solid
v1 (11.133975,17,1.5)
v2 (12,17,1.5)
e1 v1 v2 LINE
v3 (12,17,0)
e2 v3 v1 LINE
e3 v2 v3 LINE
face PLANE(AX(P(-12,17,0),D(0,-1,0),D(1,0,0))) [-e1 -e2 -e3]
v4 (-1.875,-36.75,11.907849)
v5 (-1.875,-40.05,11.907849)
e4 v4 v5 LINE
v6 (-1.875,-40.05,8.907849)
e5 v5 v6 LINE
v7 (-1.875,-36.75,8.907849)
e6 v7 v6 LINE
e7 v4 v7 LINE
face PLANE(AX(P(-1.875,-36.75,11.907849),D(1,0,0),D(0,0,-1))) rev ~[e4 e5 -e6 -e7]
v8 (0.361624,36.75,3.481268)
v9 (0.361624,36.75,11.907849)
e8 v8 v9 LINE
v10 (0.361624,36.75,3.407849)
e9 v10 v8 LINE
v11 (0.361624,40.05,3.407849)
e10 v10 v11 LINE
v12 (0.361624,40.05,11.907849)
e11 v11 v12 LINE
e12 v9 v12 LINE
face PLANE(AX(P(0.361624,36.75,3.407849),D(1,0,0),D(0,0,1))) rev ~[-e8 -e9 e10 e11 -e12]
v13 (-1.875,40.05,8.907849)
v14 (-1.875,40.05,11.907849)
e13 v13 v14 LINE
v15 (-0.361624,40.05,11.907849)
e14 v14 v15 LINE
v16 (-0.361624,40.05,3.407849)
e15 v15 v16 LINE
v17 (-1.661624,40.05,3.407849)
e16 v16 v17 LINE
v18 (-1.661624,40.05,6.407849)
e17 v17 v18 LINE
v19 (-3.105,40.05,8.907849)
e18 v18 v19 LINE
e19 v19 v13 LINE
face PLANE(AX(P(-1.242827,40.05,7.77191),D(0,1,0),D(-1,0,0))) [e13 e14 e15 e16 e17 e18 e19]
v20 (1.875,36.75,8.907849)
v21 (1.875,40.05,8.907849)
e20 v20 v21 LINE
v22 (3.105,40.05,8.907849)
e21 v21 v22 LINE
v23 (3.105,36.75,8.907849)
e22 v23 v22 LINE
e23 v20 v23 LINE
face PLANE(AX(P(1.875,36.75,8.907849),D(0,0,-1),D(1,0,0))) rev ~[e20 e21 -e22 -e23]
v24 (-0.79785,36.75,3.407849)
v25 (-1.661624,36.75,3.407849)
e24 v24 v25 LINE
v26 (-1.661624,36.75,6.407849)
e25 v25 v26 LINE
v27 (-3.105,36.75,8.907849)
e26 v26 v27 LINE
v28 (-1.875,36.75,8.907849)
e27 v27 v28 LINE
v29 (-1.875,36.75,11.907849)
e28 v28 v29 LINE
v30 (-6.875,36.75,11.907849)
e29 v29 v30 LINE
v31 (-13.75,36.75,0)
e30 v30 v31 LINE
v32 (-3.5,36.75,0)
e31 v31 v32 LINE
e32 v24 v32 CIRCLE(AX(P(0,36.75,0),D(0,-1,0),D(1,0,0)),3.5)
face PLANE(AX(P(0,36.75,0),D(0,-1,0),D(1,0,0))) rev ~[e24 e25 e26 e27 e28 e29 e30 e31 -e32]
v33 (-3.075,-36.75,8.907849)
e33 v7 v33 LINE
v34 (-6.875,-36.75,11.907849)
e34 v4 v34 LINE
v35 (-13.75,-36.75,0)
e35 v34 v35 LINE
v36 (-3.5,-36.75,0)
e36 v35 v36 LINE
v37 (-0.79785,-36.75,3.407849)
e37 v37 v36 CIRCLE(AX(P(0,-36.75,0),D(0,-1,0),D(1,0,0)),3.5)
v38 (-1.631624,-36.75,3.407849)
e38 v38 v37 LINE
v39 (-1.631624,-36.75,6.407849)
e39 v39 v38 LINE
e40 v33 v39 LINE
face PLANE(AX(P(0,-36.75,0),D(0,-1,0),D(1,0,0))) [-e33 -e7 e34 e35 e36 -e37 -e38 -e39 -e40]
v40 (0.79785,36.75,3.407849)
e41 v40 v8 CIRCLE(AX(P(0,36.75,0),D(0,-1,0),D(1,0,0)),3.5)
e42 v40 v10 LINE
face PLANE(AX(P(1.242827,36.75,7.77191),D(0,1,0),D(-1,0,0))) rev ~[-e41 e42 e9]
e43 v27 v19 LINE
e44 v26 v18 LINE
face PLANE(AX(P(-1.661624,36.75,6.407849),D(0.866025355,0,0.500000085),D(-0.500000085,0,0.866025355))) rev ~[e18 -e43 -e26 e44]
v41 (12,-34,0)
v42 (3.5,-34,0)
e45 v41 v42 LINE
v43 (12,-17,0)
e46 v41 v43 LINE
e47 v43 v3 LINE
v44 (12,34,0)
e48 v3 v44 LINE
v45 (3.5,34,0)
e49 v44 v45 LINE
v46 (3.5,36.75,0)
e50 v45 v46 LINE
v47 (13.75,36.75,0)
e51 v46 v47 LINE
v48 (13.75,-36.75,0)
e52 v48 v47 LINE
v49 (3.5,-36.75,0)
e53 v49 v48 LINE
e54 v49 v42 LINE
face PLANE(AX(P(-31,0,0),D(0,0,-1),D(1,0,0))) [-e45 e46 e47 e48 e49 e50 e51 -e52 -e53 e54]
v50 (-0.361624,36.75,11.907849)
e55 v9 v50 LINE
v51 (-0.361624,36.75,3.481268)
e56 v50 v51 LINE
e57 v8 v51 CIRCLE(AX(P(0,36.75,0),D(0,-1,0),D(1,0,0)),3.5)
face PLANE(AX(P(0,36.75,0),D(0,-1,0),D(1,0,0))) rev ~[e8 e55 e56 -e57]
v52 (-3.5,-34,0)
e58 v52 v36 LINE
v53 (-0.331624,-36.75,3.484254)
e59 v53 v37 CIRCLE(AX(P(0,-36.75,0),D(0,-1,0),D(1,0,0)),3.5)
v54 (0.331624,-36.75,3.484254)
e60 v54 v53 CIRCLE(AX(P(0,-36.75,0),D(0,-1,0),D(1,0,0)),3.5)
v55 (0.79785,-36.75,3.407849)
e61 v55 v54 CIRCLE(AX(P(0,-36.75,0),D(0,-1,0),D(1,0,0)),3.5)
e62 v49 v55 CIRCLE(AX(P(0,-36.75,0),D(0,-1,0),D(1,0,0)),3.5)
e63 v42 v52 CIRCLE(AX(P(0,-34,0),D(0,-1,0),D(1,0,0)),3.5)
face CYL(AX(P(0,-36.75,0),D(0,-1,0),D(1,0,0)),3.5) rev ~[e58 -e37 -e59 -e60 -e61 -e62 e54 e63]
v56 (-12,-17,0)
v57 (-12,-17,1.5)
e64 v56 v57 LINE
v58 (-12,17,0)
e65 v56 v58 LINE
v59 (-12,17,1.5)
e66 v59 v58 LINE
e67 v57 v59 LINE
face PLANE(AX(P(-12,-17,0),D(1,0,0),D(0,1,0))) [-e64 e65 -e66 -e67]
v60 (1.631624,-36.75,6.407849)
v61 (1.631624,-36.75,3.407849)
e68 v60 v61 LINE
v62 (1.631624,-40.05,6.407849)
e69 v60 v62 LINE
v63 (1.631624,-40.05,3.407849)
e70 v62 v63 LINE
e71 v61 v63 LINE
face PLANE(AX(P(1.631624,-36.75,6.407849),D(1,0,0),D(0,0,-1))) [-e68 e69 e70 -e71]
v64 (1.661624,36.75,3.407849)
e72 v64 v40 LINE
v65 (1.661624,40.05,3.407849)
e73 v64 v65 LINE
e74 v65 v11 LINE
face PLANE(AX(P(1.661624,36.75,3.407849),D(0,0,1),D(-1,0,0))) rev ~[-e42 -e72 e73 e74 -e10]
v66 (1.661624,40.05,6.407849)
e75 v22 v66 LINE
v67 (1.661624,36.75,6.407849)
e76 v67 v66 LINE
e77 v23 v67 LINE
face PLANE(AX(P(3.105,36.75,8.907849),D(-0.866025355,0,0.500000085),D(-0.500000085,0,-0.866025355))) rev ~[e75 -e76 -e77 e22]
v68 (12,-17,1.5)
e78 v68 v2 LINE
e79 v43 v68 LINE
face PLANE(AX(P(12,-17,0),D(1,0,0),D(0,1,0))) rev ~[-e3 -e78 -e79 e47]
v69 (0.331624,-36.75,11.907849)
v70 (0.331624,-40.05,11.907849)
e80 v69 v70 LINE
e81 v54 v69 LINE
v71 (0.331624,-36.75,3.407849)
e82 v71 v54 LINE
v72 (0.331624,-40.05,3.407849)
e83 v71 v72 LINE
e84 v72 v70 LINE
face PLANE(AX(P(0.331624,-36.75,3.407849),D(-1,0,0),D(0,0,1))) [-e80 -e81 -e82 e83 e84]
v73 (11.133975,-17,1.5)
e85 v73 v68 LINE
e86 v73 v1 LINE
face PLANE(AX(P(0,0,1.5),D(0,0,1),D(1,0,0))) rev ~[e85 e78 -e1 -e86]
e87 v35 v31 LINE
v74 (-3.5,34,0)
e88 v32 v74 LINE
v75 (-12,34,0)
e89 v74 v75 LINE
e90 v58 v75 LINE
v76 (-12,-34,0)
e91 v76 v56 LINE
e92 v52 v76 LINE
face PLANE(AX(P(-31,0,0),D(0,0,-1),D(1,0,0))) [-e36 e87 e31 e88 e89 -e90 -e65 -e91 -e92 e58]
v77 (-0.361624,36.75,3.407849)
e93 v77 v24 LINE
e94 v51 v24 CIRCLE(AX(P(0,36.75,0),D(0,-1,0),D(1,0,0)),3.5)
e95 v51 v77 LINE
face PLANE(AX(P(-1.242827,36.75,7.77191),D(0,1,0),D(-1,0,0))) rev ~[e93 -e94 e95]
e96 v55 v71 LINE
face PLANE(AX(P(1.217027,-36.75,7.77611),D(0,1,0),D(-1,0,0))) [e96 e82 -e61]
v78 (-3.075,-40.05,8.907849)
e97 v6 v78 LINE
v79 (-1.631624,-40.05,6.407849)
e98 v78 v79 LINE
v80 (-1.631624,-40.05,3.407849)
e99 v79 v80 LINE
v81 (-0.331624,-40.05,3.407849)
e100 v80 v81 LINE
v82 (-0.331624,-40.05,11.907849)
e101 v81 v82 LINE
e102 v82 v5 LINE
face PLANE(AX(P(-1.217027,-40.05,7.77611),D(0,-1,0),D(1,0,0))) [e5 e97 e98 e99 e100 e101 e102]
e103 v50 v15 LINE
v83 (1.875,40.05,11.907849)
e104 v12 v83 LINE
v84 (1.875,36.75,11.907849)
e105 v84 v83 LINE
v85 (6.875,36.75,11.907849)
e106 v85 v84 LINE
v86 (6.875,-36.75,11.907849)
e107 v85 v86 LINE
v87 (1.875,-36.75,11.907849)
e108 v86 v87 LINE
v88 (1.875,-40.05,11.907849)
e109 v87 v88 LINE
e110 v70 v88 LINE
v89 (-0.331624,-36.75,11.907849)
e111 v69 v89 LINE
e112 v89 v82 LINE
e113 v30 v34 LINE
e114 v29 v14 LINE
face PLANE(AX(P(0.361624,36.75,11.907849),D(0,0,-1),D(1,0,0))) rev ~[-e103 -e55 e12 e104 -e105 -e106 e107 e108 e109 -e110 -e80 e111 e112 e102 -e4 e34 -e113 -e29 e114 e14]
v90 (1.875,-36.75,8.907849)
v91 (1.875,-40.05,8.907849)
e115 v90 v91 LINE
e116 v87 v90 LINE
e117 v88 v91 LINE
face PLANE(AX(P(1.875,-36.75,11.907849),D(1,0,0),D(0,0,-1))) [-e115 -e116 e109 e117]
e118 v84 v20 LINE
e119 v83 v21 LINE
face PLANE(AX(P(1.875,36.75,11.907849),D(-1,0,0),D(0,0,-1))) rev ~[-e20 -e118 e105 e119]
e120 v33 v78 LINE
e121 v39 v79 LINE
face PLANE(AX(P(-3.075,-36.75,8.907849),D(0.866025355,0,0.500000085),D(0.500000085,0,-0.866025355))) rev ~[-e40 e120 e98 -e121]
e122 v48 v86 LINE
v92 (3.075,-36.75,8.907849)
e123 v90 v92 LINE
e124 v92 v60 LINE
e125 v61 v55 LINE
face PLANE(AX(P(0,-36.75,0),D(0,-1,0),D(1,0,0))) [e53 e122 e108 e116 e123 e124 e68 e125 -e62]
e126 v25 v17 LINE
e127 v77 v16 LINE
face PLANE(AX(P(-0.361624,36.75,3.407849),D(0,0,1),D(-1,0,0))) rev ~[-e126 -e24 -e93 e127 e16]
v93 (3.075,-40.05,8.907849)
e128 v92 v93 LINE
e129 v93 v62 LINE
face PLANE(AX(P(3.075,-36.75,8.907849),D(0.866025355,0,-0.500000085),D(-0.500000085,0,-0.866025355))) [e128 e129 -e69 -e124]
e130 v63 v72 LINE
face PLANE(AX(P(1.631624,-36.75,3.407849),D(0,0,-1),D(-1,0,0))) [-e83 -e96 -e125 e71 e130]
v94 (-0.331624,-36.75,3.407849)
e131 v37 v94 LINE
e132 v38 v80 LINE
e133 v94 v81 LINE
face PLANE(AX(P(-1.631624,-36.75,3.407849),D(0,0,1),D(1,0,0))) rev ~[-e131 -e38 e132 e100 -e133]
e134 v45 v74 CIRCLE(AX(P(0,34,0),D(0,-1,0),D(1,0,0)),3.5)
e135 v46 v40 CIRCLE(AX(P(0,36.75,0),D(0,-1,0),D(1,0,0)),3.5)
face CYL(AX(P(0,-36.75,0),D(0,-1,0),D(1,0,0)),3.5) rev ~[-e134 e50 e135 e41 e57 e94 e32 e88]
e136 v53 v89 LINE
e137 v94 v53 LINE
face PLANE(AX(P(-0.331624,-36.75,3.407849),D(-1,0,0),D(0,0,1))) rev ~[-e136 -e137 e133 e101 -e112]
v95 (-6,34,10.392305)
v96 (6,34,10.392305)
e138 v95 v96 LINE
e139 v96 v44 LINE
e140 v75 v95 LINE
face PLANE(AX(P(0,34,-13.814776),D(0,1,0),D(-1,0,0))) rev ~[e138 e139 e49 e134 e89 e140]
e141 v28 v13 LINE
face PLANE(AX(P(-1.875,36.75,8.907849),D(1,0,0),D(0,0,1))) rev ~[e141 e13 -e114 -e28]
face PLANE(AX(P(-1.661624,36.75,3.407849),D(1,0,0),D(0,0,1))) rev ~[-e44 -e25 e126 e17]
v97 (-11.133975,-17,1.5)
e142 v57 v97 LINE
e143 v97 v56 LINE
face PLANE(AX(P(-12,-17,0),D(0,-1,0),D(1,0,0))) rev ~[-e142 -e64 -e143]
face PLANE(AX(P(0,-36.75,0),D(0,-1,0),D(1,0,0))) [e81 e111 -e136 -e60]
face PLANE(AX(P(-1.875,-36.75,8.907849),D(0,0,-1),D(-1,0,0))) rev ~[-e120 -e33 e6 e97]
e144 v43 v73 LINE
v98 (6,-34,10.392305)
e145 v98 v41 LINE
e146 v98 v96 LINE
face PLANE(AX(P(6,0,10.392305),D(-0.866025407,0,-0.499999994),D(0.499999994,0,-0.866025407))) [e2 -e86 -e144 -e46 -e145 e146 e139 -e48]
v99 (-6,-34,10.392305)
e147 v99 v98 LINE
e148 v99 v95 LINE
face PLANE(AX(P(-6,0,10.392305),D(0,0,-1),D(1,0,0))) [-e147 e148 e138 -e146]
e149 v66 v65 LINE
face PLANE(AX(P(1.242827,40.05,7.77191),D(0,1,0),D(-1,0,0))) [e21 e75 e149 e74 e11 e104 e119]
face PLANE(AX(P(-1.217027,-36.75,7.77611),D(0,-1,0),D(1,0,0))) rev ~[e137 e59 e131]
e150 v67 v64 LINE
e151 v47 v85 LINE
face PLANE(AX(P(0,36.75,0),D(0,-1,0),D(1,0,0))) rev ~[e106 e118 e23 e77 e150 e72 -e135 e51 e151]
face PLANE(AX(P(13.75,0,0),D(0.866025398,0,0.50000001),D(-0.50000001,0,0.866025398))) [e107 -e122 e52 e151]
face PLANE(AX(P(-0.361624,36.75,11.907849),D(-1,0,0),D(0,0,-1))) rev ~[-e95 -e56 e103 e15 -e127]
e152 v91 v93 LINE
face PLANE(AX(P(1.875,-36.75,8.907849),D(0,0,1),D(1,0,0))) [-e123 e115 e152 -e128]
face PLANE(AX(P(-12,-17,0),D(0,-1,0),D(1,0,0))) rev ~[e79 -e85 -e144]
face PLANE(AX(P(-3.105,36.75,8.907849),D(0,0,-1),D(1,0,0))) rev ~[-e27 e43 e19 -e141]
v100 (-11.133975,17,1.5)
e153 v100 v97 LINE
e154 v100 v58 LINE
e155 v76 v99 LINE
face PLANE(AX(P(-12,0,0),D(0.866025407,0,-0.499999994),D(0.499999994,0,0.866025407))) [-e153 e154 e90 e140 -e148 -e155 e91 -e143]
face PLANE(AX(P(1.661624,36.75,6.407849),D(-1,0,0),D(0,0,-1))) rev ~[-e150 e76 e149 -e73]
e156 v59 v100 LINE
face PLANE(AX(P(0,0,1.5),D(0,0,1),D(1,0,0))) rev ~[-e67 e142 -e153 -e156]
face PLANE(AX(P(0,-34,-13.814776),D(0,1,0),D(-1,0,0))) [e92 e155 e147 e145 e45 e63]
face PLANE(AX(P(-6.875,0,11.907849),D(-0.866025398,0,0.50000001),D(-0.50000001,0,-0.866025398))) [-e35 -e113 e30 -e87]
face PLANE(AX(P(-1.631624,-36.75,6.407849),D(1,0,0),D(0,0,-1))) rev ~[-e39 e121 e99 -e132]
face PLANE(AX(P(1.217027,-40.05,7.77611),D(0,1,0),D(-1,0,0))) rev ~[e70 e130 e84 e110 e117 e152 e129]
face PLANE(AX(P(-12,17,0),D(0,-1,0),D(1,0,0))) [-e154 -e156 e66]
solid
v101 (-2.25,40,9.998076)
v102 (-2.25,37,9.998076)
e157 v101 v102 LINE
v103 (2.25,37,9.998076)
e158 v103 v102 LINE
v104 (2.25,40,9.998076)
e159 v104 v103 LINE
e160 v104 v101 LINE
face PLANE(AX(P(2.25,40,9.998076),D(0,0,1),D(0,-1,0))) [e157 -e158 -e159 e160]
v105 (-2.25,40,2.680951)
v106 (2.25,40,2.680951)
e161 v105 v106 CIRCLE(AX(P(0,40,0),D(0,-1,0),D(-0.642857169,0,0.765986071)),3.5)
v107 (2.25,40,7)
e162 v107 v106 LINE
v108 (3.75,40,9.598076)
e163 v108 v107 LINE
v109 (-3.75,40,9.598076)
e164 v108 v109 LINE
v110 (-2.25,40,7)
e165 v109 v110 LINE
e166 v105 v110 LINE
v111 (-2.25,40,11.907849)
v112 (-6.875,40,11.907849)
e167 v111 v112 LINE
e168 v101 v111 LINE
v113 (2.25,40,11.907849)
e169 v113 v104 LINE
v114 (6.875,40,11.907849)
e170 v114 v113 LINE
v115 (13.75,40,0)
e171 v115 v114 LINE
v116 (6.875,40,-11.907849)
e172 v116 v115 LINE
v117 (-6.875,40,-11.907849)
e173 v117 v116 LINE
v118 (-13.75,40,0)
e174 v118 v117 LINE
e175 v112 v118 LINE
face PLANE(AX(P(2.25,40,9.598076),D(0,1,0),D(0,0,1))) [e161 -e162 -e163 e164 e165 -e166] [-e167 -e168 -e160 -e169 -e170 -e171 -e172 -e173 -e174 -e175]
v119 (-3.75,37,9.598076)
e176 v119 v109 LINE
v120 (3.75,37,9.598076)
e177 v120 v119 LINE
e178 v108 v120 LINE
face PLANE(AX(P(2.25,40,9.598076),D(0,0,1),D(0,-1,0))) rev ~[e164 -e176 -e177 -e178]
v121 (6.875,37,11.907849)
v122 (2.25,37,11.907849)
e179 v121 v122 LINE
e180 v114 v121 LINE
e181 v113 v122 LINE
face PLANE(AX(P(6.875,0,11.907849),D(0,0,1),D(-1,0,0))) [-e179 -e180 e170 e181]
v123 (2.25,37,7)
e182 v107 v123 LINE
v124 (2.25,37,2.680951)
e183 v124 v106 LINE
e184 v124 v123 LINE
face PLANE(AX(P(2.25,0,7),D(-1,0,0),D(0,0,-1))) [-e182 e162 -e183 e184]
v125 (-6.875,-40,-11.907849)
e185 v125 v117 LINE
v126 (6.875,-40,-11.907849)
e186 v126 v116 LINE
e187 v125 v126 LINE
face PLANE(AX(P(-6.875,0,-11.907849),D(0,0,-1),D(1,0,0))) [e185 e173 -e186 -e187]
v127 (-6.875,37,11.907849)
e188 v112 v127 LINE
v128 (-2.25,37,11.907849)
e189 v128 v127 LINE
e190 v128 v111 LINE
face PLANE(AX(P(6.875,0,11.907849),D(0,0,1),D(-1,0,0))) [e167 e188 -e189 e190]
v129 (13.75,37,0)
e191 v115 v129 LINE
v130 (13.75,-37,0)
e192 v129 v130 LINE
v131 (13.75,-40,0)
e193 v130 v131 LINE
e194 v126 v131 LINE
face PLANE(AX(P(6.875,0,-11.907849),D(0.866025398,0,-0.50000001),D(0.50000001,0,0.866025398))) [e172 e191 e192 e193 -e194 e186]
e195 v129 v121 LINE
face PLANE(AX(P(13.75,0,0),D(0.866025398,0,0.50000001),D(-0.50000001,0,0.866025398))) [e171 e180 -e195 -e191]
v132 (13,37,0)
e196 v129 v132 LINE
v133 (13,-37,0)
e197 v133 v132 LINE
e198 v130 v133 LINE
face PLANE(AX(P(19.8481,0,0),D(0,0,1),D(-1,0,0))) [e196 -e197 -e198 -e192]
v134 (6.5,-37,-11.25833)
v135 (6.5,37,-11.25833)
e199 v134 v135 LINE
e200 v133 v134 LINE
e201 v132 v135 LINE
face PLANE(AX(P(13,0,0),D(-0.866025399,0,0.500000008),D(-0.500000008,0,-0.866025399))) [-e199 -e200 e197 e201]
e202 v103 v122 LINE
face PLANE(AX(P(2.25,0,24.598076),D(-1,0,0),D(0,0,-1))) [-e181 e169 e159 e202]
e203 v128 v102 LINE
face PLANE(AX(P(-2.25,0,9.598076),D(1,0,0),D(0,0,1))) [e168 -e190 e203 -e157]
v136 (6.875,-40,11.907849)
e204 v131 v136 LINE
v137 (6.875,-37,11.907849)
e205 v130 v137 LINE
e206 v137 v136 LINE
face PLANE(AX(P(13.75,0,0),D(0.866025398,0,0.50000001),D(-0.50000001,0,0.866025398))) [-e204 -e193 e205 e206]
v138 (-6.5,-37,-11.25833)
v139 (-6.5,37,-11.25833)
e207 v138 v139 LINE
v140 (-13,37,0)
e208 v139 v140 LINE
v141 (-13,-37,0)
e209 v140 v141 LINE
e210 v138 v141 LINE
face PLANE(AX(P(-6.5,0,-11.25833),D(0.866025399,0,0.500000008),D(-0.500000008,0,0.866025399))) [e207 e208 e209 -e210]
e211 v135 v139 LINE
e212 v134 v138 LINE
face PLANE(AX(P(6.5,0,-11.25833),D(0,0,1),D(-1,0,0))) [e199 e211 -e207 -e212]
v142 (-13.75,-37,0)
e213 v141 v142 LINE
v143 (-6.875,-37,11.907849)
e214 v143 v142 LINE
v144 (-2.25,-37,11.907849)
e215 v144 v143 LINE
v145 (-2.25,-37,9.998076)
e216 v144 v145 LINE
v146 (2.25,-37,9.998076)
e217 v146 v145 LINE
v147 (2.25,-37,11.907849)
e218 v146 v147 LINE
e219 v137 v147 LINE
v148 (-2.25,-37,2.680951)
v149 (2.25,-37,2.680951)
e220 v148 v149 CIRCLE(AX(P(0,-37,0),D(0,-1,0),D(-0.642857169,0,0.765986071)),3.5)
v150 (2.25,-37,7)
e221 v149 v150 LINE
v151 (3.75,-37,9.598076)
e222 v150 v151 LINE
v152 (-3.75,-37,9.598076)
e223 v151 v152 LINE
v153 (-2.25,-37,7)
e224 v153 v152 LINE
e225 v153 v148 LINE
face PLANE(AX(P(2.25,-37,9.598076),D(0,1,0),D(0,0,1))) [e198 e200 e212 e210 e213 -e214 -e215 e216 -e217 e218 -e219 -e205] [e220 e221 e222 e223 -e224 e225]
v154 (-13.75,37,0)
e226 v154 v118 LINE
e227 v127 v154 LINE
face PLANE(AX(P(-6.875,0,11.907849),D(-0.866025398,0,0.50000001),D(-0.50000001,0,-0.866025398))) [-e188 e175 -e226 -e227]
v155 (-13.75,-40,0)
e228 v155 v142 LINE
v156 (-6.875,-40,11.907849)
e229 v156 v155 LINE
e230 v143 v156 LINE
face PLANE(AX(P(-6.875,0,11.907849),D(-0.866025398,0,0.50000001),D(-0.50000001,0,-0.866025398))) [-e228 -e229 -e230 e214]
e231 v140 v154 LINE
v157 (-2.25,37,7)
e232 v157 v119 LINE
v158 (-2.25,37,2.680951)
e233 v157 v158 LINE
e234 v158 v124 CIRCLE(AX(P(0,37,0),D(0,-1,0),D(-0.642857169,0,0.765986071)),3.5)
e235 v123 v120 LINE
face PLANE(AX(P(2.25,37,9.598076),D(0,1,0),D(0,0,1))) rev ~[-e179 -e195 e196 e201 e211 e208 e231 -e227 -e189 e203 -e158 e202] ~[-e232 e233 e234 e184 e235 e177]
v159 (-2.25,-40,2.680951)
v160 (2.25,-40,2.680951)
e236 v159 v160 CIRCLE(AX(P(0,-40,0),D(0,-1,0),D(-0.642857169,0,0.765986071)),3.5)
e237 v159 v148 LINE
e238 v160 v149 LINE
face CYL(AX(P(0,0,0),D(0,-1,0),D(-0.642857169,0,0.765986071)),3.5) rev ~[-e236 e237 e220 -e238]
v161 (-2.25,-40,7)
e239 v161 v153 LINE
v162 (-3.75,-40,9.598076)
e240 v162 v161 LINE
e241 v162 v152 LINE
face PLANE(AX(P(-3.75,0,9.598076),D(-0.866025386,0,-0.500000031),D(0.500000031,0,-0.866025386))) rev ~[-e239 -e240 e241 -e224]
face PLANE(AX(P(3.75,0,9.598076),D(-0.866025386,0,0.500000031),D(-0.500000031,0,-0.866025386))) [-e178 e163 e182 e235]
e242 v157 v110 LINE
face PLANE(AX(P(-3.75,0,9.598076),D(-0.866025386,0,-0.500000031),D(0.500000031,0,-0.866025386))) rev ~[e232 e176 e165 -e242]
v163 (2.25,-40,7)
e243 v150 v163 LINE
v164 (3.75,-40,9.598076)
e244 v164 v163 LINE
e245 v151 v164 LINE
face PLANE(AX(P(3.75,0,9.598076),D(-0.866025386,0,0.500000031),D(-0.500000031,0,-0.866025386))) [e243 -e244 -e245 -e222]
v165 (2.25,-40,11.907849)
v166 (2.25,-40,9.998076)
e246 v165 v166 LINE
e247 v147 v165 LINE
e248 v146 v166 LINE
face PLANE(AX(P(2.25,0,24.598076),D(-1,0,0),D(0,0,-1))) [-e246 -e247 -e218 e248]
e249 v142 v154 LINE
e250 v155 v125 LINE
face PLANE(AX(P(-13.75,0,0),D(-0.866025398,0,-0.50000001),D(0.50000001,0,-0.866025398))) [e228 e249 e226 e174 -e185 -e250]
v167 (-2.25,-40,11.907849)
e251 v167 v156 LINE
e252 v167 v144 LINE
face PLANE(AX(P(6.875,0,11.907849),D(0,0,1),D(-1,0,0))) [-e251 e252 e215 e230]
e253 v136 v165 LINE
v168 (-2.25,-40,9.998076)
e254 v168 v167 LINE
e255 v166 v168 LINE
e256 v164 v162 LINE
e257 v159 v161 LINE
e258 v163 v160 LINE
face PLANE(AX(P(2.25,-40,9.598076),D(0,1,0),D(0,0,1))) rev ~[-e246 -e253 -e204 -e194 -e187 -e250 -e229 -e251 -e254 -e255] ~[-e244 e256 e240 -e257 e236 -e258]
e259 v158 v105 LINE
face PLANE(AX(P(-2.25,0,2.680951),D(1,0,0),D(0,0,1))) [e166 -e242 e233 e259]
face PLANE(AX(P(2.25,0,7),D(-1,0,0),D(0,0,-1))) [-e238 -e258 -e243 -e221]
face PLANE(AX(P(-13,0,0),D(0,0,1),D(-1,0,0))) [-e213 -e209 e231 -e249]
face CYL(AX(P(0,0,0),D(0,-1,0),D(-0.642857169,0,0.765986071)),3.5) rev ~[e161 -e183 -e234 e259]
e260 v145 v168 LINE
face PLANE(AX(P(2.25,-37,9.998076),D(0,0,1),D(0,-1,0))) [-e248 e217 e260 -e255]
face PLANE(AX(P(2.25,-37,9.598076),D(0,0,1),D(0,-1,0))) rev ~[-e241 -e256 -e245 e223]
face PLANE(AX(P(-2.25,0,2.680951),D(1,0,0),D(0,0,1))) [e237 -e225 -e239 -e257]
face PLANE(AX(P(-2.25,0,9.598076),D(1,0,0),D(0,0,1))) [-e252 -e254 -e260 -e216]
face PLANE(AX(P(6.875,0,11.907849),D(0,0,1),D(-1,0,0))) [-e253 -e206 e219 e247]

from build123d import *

# Parameters (mm, degrees)
SKETCH011_W  = 24
SKETCH011_H  = 34
PAD010_DEPTH = 1.5
PAD002_DEPTH = 57.5
PAD001_DEPTH = 37
PAD_DEPTH    = 40
SKETCH009_W  = 3
SKETCH009_H  = 0.4
PAD008_DEPTH = 5
SKETCH010_W  = 3
SKETCH010_H  = 0.4
PAD009_DEPTH = 5
SKETCH005_W  = 62
SKETCH005_H  = 32
PAD005_DEPTH = 47.5
PAD004_DEPTH = 34
PAD003_DEPTH = 36.75
SKETCH006_R  = 3.5
POCKET_DEPTH = 73.501
PAD006_DEPTH = 3.3
PAD007_DEPTH = 3.3


with BuildPart() as mote_fake:
    # Sketch011 → Pad010 (new body, symmetric)
    with BuildSketch(Plane.XY):
        Rectangle(SKETCH011_W, SKETCH011_H)
    extrude(amount=PAD010_DEPTH, both=True)


with BuildPart() as pad002:
    # Sketch002 → Pad002 (new body, symmetric)
    with BuildSketch(Plane.XZ):
        with BuildLine():
            Line((2.25, 7), (2.25, 2.680951))
            ThreePointArc((-2.25, 2.680951), (0, -3.5), (2.25, 2.680951))
            Line((-2.25, 2.680951), (-2.25, 7))
            Line((-3.75, 9.598076), (-2.25, 7))
            Line((-2.25, 9.598076), (-3.75, 9.598076))
            Line((-2.25, 9.598076), (-2.25, 24.598076))
            Line((-2.25, 24.598076), (2.25, 24.598076))
            Line((2.25, 24.598076), (2.25, 9.598076))
            Line((2.25, 9.598076), (3.75, 9.598076))
            Line((3.75, 9.598076), (2.25, 7))
        make_face()
    extrude(amount=PAD002_DEPTH, both=True)


with BuildPart() as pad001:
    # Sketch001 → Pad001 (new body, symmetric)
    with BuildSketch(Plane.XZ):
        Polygon((-19.8481, 20), (19.8481, 20), (19.8481, 0), (13, 0), (6.5, -11.25833), (-6.5, -11.25833), (-13, 0), (-19.8481, 0), align=None)
    extrude(amount=PAD001_DEPTH, both=True)


with BuildPart() as cut004:
    # Sketch → Pad (new body, symmetric)
    with BuildSketch(Plane.XZ):
        Polygon((6.875, -11.907849), (13.75, 0), (6.875, 11.907849), (-6.875, 11.907849), (-13.75, 0), (-6.875, -11.907849), align=None)
    extrude(amount=PAD_DEPTH, both=True)

    # Cut: cut Pad001
    add(pad001.part, mode=Mode.SUBTRACT)

    # Cut001: cut Pad002
    add(pad002.part, mode=Mode.SUBTRACT)

    # Sketch009 → Pad008 (new body)
    with BuildSketch(Plane(origin=(2.25, 0, 0), x_dir=(0, -1, 0), z_dir=(-1, 0, 0))):
        with Locations((-38.5, 9.798076)):
            Rectangle(SKETCH009_W, SKETCH009_H)
    extrude(amount=PAD008_DEPTH)

    # Sketch010 → Pad009 (new body)
    with BuildSketch(Plane(origin=(2.25, 0, 0), x_dir=(0, -1, 0), z_dir=(-1, 0, 0))):
        with Locations((38.5, 9.798076)):
            Rectangle(SKETCH010_W, SKETCH010_H)
    extrude(amount=PAD009_DEPTH)

    # Cut004: cut mote_fake
    add(mote_fake.part, mode=Mode.SUBTRACT)


with BuildPart() as clone_of_mote_fake:
    # Clone base: copy of mote_fake
    add(mote_fake.part)


with BuildPart() as pad005:
    # Sketch005 → Pad005 (new body, symmetric)
    with BuildSketch(Plane.XZ):
        with Locations((0, -16)):
            Rectangle(SKETCH005_W, SKETCH005_H)
    extrude(amount=PAD005_DEPTH, both=True)


with BuildPart() as pad004:
    # Sketch004 → Pad004 (new body, symmetric)
    with BuildSketch(Plane.XZ):
        Polygon((-31.5, 0), (-12, 0), (-6, 10.392305), (6, 10.392305), (12, 0), (31.5, 0), (31.5, -32), (-31.5, -32), align=None)
    extrude(amount=PAD004_DEPTH, both=True)


with BuildPart() as cut005:
    # Sketch003 → Pad003 (new body, symmetric)
    with BuildSketch(Plane.XZ):
        Polygon((6.875, -11.907849), (13.75, 0), (6.875, 11.907849), (-6.875, 11.907849), (-13.75, 0), (-6.875, -11.907849), align=None)
    extrude(amount=PAD003_DEPTH, both=True)

    # Cut002: cut Pad004
    add(pad004.part, mode=Mode.SUBTRACT)

    # Cut003: cut Pad005
    add(pad005.part, mode=Mode.SUBTRACT)

    # Sketch006 → Pocket (cut, through all)
    with BuildSketch(Plane.XZ.offset(36.75)):
        Circle(SKETCH006_R)
    extrude(amount=-POCKET_DEPTH, mode=Mode.SUBTRACT)

    # Sketch007 → Pad006 (new body)
    with BuildSketch(Plane.XZ.offset(36.75)):
        Polygon((-1.875, 11.907849), (-1.875, 8.907849), (-3.075, 8.907849), (-1.631624, 6.407849), (-1.631624, 3.407849), (-0.331624, 3.407849), (-0.331624, 11.907849), align=None)
        Polygon((1.875, 11.907849), (1.875, 8.907849), (3.075, 8.907849), (1.631624, 6.407849), (1.631624, 3.407849), (0.331624, 3.407849), (0.331624, 11.907849), align=None)
    extrude(amount=PAD006_DEPTH)

    # Sketch008 → Pad007 (new body)
    with BuildSketch(Plane(origin=(0, 36.75, 0), x_dir=(-1, 0, 0), z_dir=(0, 1, 0))):
        Polygon((-1.875, 11.907849), (-1.875, 8.907849), (-3.105, 8.907849), (-1.661624, 6.407849), (-1.661624, 3.407849), (-0.361624, 3.407849), (-0.361624, 11.907849), align=None)
        Polygon((0.361624, 11.907849), (0.361624, 3.407849), (1.661624, 3.407849), (1.661624, 6.407849), (3.105, 8.907849), (1.875, 8.907849), (1.875, 11.907849), align=None)
    extrude(amount=PAD007_DEPTH)

    # Cut005: cut Clone of mote_fake
    add(clone_of_mote_fake.part, mode=Mode.SUBTRACT)


solid = Compound([cut004.part, cut005.part])
